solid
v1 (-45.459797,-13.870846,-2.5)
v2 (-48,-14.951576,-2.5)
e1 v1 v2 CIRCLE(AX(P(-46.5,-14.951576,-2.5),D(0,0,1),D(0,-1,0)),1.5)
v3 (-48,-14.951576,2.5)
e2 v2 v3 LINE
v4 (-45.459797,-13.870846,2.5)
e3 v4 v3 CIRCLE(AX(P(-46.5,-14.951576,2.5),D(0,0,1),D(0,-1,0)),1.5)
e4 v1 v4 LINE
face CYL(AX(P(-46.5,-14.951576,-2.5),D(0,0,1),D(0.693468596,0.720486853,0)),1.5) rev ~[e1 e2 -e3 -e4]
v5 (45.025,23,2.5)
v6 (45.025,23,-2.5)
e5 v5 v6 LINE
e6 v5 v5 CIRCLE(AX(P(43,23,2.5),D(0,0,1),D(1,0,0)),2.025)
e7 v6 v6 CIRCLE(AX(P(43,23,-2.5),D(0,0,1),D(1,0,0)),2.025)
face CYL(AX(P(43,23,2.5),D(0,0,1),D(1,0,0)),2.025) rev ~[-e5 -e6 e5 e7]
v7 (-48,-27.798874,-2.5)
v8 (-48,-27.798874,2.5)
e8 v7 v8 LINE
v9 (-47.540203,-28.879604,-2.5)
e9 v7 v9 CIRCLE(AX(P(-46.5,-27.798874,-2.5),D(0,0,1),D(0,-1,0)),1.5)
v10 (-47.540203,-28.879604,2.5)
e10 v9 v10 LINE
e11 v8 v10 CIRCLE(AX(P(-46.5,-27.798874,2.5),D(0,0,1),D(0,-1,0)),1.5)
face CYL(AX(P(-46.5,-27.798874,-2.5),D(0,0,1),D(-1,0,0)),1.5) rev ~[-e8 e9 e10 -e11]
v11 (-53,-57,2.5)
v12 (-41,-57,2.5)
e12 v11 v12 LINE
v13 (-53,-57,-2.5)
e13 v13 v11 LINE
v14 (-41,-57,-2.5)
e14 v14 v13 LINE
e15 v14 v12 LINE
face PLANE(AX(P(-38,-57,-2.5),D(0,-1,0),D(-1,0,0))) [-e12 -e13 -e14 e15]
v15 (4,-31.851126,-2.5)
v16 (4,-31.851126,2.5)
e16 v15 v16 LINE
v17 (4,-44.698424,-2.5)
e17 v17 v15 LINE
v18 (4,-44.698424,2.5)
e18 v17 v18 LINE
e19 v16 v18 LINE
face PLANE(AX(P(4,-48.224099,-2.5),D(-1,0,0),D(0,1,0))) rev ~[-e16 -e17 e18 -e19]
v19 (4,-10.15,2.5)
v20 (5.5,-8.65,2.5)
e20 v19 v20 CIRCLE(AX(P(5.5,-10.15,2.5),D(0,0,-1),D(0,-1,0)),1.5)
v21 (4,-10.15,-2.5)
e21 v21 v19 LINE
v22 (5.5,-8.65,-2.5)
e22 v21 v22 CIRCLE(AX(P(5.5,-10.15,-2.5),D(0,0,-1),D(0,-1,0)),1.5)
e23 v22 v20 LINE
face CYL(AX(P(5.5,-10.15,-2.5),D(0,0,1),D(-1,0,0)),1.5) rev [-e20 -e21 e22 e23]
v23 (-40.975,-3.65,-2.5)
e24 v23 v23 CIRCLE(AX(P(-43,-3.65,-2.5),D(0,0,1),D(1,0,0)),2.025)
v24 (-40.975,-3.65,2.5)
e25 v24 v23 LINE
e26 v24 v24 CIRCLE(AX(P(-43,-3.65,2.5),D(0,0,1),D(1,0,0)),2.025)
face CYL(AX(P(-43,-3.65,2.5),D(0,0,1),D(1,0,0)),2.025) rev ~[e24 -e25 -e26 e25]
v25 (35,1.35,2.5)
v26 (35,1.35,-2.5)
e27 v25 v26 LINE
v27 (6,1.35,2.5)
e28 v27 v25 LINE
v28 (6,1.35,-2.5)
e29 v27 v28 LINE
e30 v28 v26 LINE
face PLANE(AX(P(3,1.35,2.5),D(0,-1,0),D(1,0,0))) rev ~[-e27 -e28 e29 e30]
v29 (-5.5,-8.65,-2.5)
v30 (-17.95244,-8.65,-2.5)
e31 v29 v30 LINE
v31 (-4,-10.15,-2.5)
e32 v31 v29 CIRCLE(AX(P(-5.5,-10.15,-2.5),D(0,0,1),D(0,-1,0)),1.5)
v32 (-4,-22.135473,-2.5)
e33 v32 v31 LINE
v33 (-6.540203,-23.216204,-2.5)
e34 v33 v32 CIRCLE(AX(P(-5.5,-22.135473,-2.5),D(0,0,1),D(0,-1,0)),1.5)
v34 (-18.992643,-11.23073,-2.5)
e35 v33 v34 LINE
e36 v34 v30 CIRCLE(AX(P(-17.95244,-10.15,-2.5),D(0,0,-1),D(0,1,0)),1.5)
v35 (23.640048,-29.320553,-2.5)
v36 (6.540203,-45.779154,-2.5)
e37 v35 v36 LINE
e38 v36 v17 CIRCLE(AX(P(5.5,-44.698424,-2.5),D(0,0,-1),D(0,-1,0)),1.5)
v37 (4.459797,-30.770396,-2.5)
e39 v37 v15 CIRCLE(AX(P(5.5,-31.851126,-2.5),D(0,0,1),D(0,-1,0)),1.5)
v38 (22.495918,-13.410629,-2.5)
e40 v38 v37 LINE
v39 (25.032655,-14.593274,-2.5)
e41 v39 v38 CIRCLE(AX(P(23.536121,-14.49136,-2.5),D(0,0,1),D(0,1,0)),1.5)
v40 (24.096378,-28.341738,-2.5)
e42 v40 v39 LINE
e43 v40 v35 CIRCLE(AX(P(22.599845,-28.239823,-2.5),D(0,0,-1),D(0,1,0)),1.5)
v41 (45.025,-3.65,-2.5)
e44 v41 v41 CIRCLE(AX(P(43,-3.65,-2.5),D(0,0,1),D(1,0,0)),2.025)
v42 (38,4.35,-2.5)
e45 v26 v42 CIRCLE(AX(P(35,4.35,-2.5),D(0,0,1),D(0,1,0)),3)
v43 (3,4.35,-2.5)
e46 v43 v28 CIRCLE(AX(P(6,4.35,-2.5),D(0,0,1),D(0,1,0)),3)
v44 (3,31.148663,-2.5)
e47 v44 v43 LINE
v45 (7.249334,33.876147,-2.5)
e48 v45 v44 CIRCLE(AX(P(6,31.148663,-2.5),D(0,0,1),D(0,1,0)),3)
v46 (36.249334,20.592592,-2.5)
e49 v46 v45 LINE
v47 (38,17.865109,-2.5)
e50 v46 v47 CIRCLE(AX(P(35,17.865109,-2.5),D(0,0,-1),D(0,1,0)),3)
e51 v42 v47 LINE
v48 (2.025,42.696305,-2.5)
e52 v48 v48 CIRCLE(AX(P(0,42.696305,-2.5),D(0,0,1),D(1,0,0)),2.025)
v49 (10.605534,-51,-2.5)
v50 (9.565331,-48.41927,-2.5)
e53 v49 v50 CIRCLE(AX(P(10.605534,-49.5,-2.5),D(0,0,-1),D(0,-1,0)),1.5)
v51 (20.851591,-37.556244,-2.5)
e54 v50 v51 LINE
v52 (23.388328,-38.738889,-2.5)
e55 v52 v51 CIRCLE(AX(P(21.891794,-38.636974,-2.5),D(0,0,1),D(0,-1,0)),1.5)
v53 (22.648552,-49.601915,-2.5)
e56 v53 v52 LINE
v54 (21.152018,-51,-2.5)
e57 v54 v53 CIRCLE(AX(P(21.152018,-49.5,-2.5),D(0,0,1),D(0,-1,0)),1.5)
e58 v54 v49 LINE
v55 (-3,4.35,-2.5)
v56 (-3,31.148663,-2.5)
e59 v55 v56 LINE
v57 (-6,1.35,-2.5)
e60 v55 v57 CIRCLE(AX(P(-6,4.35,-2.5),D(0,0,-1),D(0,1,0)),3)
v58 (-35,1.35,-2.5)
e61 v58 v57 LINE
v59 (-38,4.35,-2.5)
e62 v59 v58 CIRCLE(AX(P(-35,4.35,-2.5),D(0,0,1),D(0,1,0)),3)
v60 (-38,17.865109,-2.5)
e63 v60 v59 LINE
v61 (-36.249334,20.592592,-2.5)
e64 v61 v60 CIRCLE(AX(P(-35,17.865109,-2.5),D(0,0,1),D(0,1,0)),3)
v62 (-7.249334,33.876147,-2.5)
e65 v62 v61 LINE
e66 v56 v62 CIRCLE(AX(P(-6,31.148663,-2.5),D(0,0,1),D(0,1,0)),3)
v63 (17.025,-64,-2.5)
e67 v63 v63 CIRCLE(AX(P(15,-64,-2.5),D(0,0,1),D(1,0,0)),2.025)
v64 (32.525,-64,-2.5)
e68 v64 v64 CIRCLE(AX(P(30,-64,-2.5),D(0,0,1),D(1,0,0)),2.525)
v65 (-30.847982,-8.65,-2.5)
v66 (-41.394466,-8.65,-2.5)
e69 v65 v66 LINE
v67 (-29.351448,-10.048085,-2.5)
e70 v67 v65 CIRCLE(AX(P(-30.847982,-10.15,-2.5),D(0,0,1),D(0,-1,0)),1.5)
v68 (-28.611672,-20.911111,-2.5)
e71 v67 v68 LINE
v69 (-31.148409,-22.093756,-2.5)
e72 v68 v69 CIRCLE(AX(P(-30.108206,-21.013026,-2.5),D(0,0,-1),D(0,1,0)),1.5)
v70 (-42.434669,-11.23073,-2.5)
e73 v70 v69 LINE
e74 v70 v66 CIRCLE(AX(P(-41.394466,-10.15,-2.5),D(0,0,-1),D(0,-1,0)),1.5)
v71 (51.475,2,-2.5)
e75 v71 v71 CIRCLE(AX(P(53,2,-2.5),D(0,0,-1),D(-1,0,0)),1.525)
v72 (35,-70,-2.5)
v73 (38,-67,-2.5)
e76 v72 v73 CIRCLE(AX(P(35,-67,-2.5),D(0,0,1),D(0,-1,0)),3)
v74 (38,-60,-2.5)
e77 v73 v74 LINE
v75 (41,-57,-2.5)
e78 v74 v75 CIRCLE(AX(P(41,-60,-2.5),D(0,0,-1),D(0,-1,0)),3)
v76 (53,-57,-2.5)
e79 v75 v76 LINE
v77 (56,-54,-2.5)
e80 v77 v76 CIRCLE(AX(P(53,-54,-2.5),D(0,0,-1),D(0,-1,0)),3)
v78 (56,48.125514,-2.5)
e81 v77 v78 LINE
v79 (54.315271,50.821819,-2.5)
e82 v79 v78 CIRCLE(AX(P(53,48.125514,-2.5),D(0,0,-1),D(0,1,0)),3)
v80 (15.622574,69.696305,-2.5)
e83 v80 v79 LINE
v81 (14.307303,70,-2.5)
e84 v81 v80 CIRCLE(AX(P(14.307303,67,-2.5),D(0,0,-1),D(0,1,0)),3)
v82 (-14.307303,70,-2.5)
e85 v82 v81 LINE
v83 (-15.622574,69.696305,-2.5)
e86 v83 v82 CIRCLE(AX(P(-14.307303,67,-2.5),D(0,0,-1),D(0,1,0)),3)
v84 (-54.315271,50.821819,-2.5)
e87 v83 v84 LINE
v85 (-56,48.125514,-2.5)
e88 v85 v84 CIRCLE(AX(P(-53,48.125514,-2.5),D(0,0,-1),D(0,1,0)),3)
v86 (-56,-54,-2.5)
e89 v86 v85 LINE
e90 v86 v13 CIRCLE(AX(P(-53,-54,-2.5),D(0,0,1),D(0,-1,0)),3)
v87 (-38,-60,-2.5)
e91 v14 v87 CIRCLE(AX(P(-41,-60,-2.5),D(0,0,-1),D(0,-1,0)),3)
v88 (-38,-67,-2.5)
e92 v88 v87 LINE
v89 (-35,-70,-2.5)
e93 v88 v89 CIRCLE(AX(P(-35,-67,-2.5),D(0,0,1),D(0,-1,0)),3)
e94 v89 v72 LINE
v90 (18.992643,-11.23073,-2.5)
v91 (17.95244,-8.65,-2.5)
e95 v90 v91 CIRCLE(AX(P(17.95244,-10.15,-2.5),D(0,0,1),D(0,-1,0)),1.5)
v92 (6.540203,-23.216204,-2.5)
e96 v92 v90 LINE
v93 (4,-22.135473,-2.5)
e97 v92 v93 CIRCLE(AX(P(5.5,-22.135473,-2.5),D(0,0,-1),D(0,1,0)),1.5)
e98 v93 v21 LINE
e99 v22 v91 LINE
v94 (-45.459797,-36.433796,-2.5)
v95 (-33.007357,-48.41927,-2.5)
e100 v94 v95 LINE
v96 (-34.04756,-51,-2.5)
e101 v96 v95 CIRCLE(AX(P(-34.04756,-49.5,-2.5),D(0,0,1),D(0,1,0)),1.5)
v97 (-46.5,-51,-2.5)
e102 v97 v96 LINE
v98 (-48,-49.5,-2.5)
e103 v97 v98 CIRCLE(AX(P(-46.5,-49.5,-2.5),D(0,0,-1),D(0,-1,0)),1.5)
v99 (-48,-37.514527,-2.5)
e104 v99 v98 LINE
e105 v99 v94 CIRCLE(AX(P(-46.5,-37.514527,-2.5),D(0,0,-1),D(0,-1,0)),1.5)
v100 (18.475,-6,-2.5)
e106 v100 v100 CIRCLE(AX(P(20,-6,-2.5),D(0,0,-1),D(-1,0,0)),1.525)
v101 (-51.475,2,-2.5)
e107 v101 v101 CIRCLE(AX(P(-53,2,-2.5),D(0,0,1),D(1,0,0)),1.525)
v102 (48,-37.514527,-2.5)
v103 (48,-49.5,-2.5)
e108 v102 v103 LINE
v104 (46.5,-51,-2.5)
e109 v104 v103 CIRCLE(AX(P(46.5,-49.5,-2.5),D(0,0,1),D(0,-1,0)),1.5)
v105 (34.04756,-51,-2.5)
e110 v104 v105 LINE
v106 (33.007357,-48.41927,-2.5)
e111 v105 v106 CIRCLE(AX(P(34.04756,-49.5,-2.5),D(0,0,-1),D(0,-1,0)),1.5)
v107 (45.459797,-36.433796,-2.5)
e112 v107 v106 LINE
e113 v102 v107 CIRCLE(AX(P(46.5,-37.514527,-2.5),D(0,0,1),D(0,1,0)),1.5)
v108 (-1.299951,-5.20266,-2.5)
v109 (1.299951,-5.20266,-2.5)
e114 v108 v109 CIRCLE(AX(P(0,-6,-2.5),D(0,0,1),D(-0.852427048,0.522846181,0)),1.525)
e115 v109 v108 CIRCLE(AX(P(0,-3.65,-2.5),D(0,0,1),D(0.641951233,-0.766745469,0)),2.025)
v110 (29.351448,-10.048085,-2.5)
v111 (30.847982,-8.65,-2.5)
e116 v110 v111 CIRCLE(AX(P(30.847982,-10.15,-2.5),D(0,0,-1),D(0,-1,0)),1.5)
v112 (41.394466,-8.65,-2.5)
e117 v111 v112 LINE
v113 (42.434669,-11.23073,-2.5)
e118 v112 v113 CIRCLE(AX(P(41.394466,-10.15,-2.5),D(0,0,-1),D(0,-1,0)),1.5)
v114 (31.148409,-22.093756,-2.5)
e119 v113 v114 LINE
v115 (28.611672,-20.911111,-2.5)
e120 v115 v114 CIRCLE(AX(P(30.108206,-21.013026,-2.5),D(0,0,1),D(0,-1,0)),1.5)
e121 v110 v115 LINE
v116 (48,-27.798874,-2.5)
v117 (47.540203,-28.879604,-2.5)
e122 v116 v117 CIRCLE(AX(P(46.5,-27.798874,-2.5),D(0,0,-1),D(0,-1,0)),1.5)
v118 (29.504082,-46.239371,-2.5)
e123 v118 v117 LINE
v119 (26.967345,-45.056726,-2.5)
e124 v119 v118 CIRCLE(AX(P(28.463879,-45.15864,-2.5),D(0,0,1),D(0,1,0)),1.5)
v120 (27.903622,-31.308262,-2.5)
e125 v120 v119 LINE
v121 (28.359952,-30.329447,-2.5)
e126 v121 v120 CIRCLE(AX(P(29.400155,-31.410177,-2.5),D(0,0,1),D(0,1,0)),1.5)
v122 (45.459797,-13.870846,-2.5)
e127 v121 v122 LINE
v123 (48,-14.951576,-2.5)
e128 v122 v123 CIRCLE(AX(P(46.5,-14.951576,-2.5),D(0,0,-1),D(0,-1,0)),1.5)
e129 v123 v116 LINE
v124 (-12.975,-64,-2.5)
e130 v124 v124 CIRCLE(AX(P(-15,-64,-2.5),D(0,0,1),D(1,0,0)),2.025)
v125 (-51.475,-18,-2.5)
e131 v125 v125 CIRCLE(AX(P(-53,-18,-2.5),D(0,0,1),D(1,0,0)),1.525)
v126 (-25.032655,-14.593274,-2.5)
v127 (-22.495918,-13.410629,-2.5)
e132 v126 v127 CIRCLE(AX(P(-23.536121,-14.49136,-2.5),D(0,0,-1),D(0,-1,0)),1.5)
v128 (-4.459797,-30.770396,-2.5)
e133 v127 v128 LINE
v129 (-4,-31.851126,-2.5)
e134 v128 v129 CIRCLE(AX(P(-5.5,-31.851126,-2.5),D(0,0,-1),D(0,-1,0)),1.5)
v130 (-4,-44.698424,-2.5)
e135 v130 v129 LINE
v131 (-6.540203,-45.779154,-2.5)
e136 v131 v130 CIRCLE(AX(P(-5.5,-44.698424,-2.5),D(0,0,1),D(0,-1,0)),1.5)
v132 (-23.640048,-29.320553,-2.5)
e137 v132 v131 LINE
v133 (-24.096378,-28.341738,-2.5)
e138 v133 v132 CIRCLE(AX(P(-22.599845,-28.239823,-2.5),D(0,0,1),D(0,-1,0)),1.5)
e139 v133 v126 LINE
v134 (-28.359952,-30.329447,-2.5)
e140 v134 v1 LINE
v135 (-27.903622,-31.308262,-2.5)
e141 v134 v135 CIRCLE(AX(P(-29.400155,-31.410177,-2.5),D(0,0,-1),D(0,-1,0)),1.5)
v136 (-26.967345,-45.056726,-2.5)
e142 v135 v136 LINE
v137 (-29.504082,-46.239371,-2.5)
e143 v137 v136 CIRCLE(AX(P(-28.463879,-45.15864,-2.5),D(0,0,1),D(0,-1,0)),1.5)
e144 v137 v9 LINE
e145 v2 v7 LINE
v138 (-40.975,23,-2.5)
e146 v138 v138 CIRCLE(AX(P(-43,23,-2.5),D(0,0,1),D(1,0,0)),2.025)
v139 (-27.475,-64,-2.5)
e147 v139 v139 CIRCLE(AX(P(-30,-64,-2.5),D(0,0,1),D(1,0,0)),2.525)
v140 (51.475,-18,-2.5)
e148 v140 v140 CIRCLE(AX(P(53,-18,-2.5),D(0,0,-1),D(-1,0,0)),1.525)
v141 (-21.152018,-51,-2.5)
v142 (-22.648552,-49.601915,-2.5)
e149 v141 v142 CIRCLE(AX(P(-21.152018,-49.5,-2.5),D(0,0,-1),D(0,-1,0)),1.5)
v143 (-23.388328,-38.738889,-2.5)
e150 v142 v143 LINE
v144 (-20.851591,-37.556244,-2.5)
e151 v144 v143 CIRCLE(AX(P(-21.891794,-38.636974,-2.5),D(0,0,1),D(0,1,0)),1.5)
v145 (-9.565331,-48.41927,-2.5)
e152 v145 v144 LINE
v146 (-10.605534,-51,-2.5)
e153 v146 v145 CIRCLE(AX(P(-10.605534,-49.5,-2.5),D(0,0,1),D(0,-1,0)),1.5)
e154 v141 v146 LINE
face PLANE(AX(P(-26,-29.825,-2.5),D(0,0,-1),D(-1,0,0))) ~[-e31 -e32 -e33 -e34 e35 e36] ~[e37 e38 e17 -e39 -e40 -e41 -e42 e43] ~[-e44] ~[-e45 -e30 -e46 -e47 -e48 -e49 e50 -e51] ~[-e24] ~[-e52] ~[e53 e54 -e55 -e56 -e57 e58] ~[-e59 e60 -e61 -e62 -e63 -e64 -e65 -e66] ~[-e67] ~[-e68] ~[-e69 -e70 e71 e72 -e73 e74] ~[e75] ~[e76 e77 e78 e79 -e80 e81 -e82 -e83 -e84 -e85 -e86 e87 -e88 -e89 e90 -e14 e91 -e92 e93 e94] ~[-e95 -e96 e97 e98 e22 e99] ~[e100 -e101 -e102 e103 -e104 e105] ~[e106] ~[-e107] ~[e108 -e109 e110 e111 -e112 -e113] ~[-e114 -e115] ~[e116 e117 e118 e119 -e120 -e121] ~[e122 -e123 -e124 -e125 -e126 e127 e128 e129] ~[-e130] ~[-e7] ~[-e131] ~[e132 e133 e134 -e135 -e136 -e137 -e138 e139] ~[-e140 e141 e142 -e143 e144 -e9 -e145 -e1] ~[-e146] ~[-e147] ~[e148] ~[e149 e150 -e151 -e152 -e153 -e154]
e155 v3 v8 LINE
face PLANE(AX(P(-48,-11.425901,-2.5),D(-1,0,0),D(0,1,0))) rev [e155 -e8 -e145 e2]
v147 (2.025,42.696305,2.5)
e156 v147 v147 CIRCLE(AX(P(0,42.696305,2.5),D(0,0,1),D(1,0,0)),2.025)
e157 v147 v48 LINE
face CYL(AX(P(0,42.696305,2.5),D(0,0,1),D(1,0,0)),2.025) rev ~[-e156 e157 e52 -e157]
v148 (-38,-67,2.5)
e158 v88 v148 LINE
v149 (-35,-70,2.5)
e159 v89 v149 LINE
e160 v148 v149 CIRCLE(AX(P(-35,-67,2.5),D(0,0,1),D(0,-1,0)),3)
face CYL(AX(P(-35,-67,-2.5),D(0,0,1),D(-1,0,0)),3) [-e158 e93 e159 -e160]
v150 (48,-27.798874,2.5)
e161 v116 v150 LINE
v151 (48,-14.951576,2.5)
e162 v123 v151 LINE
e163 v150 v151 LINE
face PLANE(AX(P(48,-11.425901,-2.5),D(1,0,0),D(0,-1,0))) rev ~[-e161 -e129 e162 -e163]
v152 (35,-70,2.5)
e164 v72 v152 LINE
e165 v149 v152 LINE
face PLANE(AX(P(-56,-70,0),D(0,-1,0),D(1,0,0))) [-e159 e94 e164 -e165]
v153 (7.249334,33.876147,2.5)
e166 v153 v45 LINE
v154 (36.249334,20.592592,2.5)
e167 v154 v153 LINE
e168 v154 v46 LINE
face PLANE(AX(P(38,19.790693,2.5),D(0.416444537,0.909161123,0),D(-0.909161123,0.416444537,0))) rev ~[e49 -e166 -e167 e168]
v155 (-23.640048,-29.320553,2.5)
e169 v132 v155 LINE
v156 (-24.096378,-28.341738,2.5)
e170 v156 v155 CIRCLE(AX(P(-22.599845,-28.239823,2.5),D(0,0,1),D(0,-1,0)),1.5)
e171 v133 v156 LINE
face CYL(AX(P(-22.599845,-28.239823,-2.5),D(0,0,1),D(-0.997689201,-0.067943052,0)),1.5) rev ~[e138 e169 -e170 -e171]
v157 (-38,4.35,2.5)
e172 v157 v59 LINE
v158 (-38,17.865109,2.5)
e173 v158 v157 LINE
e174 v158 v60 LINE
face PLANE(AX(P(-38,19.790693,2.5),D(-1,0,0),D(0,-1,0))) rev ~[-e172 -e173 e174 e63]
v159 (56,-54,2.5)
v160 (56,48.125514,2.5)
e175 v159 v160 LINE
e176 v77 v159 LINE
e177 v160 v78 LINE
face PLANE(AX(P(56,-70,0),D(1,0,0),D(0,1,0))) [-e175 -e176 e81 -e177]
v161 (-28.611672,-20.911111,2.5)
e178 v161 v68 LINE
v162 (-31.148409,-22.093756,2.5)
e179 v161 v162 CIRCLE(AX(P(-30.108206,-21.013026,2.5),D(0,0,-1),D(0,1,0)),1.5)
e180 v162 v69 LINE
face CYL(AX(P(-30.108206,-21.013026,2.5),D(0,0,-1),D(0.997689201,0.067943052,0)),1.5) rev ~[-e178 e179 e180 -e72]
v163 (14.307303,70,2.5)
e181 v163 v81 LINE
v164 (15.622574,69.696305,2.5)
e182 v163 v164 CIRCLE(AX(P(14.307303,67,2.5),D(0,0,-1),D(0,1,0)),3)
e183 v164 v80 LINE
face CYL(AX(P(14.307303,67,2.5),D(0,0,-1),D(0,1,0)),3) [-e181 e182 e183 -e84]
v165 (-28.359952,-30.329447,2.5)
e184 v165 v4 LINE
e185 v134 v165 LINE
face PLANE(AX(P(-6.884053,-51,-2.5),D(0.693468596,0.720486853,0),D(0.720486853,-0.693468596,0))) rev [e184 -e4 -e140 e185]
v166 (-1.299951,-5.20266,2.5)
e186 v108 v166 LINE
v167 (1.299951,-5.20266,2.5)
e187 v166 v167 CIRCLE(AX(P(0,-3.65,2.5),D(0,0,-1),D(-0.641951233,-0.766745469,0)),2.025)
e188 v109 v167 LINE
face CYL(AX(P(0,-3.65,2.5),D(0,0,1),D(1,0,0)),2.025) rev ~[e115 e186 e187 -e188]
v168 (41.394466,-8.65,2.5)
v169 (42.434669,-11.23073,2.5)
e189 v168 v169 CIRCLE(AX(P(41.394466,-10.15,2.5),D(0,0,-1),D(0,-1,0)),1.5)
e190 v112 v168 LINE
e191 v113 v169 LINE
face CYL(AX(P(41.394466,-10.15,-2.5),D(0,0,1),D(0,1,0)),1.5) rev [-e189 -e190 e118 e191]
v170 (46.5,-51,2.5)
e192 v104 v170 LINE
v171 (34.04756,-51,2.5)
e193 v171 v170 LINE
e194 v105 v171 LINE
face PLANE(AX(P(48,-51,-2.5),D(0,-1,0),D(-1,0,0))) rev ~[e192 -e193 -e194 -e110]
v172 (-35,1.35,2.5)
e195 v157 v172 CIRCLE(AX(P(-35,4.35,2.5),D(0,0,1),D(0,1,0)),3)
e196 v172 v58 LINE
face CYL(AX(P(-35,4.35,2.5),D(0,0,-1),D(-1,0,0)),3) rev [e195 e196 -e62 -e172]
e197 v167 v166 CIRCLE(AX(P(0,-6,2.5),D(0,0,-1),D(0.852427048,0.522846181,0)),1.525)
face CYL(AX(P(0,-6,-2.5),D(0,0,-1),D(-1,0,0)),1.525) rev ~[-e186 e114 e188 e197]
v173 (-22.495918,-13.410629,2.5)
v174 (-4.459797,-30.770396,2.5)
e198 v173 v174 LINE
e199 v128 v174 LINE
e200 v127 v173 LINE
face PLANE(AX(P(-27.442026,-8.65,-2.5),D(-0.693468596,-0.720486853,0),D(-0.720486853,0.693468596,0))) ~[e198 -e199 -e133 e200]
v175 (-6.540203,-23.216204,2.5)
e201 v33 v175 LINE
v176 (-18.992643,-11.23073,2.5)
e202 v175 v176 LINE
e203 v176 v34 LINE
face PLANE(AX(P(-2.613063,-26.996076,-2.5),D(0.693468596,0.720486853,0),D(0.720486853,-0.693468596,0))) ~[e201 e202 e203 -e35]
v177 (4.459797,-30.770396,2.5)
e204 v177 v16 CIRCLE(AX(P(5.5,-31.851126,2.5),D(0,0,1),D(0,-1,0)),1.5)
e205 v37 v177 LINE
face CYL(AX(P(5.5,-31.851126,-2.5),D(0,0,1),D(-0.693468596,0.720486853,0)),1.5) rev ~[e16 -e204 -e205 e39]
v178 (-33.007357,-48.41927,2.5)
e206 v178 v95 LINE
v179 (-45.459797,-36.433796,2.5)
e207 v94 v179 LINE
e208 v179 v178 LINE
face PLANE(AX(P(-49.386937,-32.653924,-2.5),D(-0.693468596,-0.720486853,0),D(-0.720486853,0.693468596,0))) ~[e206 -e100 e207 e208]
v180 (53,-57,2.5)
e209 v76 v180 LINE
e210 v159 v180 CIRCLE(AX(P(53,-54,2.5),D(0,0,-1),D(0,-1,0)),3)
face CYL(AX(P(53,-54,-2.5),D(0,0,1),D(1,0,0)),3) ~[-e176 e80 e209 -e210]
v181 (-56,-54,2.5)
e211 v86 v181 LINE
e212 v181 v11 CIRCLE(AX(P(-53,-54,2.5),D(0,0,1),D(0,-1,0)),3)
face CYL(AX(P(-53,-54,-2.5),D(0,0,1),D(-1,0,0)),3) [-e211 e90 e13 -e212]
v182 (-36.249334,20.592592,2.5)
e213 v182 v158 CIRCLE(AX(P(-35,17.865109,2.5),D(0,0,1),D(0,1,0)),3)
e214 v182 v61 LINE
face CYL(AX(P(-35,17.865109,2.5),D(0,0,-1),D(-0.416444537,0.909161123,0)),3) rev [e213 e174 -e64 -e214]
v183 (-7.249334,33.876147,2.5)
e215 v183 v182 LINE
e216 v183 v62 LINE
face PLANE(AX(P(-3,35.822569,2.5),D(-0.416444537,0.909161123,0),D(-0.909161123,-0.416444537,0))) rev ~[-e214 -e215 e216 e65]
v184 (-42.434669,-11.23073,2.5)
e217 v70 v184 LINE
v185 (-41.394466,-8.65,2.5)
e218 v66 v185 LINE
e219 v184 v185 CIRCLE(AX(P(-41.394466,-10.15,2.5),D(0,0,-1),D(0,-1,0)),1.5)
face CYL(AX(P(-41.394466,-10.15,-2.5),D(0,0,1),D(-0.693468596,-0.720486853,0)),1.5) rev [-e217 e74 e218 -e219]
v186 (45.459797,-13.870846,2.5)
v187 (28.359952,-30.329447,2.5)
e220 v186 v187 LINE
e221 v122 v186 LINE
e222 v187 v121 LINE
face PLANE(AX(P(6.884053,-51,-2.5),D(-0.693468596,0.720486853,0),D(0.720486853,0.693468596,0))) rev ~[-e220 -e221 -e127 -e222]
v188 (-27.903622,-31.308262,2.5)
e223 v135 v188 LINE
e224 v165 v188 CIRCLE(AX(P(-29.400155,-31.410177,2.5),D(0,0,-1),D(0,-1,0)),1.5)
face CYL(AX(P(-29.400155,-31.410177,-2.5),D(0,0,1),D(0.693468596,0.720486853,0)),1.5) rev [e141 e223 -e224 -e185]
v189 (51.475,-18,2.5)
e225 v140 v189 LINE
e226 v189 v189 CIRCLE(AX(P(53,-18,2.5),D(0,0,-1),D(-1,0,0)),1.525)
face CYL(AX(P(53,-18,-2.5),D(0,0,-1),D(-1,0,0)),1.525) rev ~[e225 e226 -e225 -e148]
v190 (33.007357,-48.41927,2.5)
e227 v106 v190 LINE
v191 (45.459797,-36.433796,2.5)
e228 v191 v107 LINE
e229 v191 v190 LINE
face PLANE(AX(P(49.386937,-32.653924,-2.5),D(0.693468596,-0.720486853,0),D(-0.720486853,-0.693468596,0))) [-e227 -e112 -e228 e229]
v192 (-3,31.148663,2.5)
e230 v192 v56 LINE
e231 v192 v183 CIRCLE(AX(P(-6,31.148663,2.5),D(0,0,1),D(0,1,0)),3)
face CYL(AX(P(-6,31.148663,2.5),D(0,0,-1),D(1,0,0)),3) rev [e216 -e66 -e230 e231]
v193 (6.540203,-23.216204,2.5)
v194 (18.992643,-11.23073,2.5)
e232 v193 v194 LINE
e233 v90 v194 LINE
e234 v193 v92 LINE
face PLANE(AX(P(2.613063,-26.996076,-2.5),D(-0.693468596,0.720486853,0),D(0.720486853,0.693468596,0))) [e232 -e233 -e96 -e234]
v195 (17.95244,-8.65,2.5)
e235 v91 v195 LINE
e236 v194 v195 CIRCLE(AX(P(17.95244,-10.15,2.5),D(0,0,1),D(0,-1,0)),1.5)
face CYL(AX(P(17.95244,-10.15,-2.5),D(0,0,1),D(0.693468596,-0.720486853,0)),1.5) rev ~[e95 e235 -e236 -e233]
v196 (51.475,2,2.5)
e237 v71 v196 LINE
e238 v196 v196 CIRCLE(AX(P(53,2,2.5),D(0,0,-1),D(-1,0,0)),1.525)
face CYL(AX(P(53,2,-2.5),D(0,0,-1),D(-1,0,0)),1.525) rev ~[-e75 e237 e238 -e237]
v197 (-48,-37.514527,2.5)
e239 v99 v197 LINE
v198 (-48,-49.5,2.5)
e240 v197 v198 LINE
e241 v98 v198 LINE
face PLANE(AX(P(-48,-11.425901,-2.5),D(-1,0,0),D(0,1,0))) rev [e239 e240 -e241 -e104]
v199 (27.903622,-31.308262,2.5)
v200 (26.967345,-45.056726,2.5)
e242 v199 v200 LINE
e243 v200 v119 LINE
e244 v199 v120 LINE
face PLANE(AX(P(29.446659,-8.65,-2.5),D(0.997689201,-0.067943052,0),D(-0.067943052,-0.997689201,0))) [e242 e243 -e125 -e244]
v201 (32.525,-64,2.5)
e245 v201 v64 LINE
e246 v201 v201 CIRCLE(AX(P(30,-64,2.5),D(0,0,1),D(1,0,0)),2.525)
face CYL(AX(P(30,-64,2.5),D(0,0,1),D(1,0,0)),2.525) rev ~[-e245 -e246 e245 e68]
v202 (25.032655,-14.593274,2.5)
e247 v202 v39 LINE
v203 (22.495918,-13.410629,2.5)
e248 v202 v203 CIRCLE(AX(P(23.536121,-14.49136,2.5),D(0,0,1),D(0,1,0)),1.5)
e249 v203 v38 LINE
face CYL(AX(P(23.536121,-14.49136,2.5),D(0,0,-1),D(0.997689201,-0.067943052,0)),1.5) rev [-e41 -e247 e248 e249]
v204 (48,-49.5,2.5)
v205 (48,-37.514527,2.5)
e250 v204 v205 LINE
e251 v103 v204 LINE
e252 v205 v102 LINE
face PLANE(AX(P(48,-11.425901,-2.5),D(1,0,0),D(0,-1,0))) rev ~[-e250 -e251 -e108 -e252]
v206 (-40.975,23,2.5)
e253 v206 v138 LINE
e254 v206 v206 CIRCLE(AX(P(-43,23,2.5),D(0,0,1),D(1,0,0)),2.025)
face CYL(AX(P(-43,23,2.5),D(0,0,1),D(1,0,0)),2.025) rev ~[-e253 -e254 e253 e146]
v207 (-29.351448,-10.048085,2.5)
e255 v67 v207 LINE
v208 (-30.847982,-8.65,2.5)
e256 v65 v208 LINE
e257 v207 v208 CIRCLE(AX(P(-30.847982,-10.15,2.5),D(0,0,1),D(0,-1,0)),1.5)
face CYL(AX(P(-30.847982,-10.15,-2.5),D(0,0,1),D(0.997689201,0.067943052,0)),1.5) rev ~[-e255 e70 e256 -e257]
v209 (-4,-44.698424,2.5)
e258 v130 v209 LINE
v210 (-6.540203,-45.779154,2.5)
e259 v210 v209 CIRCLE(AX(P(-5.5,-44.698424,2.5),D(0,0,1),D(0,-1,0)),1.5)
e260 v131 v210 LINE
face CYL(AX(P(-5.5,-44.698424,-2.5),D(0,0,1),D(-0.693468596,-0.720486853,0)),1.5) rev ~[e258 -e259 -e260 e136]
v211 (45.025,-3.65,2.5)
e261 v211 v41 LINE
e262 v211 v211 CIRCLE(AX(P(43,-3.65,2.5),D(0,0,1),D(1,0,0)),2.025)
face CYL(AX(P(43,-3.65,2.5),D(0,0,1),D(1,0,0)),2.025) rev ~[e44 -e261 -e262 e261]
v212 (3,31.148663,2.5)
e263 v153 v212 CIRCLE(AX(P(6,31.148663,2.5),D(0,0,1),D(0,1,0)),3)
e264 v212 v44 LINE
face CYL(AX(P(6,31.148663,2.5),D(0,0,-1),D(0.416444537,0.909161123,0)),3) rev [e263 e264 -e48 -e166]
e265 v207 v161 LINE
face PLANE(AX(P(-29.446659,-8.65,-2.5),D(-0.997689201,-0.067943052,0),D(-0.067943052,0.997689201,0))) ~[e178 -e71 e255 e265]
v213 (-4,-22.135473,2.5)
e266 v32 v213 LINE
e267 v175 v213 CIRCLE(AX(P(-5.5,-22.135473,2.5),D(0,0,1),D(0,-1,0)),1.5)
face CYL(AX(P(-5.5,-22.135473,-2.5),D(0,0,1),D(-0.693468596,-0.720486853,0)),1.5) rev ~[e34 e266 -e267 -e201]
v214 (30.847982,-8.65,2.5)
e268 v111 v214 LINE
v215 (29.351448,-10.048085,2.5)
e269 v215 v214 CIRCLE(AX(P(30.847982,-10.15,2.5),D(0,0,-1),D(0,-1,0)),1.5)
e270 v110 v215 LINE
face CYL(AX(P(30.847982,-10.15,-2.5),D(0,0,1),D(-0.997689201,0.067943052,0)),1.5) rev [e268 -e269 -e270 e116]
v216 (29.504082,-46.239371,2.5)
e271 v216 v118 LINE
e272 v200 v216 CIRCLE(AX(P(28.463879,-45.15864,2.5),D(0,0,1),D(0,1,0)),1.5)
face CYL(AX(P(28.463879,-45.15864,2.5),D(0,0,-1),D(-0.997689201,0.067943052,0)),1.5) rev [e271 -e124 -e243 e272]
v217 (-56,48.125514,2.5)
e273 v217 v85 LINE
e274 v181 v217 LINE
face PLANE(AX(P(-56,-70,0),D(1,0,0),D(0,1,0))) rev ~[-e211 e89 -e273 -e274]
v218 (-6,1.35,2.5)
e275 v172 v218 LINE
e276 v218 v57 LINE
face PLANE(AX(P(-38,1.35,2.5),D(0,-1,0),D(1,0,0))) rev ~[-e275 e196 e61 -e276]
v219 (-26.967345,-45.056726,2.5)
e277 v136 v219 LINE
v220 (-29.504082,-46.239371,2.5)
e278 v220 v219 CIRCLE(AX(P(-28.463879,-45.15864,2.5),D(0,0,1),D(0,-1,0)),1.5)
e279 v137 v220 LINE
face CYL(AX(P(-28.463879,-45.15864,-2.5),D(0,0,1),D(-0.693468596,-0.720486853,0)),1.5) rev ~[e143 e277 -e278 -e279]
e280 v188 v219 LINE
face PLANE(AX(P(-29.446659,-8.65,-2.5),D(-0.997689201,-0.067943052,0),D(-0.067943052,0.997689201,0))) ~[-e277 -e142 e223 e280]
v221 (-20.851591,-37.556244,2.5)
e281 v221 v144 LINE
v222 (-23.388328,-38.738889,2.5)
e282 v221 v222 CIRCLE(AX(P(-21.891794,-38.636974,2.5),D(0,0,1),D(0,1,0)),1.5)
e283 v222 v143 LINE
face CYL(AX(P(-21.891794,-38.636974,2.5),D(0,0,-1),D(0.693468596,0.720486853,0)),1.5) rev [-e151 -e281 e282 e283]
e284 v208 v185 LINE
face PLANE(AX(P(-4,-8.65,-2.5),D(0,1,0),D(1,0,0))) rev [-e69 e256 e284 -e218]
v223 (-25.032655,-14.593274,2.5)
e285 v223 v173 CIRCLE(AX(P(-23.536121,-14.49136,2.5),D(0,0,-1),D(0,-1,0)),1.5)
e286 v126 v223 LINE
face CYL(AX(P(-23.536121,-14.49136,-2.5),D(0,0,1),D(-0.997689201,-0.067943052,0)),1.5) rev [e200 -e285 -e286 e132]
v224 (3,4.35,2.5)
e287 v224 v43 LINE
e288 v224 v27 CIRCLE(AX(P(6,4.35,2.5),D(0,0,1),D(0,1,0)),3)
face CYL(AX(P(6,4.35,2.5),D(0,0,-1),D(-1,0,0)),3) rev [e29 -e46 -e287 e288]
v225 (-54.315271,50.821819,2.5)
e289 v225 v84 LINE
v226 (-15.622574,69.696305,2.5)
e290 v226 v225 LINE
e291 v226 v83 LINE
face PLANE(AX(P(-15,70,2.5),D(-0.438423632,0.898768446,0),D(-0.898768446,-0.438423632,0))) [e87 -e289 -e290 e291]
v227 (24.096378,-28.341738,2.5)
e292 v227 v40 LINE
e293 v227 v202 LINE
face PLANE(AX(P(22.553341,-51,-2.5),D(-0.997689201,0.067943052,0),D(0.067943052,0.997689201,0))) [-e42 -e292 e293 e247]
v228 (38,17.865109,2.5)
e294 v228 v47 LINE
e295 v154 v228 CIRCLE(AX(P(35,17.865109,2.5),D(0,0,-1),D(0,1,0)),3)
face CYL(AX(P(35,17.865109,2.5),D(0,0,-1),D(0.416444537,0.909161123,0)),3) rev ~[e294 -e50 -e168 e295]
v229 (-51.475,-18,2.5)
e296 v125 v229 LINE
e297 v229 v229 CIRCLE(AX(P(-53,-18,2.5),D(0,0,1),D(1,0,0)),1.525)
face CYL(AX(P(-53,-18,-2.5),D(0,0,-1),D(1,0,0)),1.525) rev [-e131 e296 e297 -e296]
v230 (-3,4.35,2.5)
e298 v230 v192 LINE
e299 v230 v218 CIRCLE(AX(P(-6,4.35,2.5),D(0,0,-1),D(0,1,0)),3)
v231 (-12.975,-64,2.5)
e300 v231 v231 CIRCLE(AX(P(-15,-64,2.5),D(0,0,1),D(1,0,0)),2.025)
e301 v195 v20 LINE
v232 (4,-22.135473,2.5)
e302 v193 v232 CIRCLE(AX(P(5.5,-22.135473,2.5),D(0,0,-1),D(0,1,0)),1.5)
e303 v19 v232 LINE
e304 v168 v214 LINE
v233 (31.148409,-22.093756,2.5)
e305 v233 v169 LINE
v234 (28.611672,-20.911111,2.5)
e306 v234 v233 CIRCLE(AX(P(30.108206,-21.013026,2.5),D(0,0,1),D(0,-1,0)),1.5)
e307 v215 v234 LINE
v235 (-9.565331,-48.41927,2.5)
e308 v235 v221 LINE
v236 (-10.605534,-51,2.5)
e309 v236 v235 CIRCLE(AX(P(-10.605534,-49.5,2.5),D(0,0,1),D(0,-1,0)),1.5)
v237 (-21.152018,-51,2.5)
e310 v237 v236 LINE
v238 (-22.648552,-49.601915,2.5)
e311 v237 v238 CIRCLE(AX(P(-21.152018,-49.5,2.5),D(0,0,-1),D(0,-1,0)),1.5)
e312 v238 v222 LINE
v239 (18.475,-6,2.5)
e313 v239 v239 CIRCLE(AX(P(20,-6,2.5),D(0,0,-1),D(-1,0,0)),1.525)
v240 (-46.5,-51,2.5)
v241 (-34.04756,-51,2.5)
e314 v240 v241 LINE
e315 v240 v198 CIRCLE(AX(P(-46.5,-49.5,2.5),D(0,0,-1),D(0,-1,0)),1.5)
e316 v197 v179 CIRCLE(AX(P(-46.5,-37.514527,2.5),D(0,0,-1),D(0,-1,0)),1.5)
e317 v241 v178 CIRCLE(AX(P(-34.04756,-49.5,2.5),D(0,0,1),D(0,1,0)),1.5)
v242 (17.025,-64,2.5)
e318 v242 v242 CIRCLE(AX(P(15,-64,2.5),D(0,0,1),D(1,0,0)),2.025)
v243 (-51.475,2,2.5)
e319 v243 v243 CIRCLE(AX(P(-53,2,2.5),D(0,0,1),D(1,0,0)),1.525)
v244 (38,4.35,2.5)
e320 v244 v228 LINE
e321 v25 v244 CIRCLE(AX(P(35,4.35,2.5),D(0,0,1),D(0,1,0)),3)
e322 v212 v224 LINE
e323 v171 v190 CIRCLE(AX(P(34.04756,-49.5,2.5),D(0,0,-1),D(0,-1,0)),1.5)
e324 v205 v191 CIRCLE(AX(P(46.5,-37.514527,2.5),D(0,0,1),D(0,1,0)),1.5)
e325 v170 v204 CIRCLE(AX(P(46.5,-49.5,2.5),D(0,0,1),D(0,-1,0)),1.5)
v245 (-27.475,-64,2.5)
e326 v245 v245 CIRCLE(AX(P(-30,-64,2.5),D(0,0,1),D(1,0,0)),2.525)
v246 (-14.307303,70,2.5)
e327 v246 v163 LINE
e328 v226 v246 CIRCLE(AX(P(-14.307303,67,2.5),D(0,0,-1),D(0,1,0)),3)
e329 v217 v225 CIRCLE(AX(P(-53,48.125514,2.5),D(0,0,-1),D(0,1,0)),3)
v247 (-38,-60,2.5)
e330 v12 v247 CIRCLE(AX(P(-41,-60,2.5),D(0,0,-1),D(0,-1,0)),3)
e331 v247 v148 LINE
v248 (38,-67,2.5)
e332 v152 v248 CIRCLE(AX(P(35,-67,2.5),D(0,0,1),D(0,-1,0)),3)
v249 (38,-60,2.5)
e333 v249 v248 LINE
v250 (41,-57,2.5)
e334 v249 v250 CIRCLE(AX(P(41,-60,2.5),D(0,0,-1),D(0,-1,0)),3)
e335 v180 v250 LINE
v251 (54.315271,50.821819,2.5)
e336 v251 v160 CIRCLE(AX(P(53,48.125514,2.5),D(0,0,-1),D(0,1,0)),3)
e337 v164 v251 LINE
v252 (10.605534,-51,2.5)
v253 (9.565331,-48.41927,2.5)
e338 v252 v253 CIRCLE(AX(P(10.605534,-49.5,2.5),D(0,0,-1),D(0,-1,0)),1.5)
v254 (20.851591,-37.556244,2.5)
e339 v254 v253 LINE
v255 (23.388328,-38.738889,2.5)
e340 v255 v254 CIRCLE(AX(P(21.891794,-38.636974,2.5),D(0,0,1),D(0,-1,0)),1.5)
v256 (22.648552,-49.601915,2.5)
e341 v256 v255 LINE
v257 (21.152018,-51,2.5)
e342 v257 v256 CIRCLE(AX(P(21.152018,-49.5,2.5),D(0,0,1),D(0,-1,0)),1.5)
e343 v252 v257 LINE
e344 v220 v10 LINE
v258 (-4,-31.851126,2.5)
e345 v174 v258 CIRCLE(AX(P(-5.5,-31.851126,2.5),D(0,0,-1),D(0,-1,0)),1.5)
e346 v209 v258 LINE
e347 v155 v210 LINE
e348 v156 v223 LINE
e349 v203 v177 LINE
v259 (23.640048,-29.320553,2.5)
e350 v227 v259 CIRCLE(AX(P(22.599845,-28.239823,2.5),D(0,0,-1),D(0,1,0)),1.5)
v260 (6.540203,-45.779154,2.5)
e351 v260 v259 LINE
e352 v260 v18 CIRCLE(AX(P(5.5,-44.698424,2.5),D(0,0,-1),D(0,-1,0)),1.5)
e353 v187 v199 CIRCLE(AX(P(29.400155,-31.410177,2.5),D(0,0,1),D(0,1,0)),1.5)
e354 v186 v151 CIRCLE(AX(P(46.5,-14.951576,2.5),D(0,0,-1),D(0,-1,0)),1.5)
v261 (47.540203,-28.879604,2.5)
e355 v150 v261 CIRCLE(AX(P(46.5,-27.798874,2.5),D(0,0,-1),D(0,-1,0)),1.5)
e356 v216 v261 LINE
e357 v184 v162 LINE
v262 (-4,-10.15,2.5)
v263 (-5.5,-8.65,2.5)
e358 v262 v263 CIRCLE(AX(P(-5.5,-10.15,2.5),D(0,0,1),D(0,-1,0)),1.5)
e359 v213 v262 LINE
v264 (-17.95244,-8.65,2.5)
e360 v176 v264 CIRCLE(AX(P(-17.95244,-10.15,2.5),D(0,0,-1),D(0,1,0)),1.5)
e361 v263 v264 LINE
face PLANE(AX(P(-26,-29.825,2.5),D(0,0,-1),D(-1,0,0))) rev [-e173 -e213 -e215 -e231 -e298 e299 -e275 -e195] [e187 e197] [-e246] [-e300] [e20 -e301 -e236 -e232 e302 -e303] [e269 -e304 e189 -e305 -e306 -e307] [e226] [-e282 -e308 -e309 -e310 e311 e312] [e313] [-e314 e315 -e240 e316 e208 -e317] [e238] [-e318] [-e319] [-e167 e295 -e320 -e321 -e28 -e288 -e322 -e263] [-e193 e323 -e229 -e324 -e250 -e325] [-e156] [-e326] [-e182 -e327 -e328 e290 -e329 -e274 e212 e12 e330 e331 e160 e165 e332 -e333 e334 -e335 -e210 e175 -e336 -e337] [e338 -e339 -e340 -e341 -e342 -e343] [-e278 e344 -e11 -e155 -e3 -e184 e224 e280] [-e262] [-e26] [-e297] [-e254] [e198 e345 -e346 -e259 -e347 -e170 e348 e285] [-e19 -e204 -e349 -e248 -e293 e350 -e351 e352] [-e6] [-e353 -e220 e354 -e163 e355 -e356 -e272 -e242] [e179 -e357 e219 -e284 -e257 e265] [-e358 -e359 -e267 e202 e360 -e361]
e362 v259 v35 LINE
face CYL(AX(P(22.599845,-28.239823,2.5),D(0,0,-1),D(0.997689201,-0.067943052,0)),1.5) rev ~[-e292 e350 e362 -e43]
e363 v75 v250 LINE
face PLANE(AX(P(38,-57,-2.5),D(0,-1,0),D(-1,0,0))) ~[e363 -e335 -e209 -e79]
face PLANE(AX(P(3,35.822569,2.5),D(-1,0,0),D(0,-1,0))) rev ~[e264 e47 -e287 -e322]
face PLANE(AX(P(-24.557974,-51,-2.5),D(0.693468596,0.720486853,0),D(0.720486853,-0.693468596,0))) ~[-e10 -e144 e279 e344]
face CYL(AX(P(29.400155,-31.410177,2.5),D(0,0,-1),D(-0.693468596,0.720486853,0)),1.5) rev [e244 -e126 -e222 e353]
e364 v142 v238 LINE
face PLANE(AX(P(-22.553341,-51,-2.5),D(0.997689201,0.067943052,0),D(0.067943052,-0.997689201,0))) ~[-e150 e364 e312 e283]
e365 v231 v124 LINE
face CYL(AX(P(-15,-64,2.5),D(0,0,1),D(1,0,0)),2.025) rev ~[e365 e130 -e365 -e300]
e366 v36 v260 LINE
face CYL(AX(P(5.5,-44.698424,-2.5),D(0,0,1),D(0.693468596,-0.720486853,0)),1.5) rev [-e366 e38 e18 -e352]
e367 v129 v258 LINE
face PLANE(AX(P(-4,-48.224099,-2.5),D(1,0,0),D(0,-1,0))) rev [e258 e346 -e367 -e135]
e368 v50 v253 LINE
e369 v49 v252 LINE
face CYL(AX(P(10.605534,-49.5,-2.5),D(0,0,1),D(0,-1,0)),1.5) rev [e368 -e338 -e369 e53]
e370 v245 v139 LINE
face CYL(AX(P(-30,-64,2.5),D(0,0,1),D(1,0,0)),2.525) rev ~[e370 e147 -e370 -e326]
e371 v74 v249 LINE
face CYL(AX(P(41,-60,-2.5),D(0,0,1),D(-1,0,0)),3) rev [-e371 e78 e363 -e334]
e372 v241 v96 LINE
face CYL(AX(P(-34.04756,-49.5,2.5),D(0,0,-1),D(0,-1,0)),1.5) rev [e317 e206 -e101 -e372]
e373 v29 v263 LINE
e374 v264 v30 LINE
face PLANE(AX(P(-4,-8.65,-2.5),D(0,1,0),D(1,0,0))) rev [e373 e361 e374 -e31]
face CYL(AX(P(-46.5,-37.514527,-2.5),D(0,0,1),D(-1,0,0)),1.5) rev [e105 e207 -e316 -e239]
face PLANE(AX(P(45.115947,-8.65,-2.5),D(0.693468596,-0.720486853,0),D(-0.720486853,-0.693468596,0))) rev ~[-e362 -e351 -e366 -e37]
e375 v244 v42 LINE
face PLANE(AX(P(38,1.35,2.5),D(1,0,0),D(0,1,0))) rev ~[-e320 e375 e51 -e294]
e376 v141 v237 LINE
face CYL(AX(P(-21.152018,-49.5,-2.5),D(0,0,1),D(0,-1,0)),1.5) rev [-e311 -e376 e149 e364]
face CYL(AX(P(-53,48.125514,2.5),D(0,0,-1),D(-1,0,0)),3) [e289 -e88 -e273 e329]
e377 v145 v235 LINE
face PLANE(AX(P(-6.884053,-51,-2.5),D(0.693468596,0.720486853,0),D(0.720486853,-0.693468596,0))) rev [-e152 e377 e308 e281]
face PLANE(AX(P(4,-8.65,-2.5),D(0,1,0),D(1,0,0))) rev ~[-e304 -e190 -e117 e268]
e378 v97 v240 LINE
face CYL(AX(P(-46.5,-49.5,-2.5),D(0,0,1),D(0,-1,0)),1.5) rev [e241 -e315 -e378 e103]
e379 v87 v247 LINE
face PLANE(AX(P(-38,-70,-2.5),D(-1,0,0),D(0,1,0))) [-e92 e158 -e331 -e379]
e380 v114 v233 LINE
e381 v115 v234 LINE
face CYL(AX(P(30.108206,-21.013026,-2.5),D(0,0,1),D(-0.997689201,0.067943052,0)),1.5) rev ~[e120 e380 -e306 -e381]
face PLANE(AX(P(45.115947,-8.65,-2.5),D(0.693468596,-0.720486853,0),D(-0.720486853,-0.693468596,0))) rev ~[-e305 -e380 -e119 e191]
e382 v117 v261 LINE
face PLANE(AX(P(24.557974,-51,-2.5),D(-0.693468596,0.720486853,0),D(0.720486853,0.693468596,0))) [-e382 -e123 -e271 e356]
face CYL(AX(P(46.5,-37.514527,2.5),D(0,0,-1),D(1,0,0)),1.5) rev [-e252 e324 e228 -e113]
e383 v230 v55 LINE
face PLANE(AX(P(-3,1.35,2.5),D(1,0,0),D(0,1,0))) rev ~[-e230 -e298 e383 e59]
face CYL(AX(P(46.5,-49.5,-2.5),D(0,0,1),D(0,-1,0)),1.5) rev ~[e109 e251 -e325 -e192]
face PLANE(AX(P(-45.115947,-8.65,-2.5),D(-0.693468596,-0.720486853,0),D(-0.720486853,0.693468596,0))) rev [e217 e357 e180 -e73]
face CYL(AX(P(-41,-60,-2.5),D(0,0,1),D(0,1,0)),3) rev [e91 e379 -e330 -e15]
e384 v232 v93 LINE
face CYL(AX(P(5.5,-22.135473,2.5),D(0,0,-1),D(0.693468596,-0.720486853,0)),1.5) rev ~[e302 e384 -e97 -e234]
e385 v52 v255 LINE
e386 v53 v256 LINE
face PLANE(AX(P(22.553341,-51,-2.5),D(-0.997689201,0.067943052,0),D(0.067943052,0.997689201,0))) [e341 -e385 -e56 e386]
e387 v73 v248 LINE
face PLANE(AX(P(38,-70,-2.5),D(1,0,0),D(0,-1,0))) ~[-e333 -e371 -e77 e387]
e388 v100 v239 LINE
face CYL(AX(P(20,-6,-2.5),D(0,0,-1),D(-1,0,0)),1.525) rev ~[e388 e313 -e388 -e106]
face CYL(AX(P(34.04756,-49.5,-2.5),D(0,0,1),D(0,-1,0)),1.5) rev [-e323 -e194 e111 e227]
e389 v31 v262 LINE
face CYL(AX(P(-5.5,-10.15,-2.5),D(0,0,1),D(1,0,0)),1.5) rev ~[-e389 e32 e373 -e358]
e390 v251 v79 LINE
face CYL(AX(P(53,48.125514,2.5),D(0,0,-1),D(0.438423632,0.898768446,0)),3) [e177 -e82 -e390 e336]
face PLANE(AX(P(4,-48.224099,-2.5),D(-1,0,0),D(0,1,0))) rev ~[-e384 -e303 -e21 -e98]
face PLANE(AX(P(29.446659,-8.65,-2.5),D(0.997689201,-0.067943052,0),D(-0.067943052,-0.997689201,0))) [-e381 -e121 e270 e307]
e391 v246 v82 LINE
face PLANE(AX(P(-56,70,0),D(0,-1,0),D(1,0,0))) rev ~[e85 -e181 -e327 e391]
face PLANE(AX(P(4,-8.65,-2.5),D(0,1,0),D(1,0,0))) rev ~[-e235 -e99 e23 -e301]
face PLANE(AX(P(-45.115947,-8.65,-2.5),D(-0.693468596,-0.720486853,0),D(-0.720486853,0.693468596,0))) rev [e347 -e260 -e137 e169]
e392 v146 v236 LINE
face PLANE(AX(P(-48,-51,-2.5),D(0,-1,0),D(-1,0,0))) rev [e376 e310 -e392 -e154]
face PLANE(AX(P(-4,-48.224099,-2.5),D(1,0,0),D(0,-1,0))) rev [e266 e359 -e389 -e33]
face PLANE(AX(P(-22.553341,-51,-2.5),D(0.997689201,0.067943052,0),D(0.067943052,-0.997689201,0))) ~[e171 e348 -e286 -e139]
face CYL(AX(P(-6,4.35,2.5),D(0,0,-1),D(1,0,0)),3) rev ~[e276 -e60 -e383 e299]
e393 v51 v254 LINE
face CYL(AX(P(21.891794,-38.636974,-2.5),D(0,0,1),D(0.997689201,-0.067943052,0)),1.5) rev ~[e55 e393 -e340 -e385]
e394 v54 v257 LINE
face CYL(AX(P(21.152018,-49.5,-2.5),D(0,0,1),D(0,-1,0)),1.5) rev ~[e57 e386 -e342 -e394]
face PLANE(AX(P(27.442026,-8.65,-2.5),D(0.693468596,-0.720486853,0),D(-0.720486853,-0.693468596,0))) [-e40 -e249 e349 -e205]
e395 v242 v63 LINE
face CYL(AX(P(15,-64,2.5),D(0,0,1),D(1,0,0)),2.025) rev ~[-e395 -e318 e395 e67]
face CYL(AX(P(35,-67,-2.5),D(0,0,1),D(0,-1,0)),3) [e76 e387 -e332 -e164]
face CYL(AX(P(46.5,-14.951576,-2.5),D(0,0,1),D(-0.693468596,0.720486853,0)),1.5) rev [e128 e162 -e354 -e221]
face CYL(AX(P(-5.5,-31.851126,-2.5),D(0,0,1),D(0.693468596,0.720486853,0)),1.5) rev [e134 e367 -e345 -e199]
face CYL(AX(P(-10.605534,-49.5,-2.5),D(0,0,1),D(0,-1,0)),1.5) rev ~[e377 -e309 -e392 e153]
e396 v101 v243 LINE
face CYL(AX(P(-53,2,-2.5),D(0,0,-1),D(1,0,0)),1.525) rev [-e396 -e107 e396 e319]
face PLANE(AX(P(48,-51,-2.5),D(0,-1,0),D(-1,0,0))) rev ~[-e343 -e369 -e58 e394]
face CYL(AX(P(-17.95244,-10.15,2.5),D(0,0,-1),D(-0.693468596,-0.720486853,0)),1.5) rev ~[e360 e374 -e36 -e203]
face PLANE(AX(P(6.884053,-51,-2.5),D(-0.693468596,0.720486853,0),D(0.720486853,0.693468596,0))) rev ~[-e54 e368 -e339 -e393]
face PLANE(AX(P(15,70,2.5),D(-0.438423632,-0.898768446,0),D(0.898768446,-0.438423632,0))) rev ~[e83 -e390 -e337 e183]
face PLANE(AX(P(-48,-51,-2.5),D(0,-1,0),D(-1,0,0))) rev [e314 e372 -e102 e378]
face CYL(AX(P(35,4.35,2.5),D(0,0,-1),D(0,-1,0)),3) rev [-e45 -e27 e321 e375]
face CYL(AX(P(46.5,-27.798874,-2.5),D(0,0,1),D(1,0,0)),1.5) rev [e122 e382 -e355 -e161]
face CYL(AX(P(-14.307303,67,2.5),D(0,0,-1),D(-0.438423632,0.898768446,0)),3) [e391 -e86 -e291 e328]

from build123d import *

# Parameters (mm, degrees)
SKETCH_1_W           = 112
SKETCH_1_H           = 140
EXTRUDE_1_DEPTH      = 2.5
CUT_EXTRUDE_2_DEPTH  = 5
SKETCH_4_R           = 2.025
CUT_EXTRUDE_3_DEPTH  = 10
SKETCH_6_W           = 18
SKETCH_6_H           = 13
CUT_EXTRUDE_5_DEPTH  = 10
CUT_EXTRUDE_6_DEPTH  = 5
FILLET_1_R           = 3
SKETCH_8_R           = 1.525
CUT_EXTRUDE_7_DEPTH  = 5
SKETCH_10_R          = 2.525
CUT_EXTRUDE_9_DEPTH  = 40
FILLET_3_R           = 3
CUT_EXTRUDE_10_DEPTH = 78
EXTRUDE_2_DEPTH      = 5
EXTRUDE_3_DEPTH      = 5
FILLET_4_R           = 1.5
EXTRUDE_6_DEPTH      = 5
SKETCH_22_R          = 1.525
CUT_EXTRUDE_15_DEPTH = 5
SKETCH_24_R          = 2.025
CUT_EXTRUDE_17_DEPTH = 10


with BuildPart() as part:
    # 草图1 → 凸台-拉伸1 (new, symmetric)
    with BuildSketch(Plane.XY):
        Rectangle(SKETCH_1_W, SKETCH_1_H)
    extrude(amount=EXTRUDE_1_DEPTH, both=True)

    # 草图3 → 切除-拉伸2 (cut)
    with BuildSketch(Plane.XY.offset(2.5)):
        Polygon((-15, 70), (-56, 50), (-56, 70), align=None)
        Polygon((56, 70), (15, 70), (56, 50), align=None)
    extrude(amount=-CUT_EXTRUDE_2_DEPTH, mode=Mode.SUBTRACT)

    # 草图4 → 切除-拉伸3 (cut)
    with BuildSketch(Plane.XY.offset(2.5)):
        with Locations((0, -3.65)):
            Circle(SKETCH_4_R)
        with Locations((43, -3.65)):
            Circle(SKETCH_4_R)
        with Locations((-43, -3.65)):
            Circle(SKETCH_4_R)
        with Locations((-43, 23)):
            Circle(SKETCH_4_R)
        with Locations((0, 42.696305337)):
            Circle(SKETCH_4_R)
        with Locations((43, 23)):
            Circle(SKETCH_4_R)
    extrude(amount=-CUT_EXTRUDE_3_DEPTH, mode=Mode.SUBTRACT)

    # 草图6 → 切除-拉伸5 (cut)
    with BuildSketch(Plane(origin=(0, 0, -2.5), x_dir=(-1, 0, 0), z_dir=(0, 0, -1))):
        with Locations((47, -63.5)):
            Rectangle(SKETCH_6_W, SKETCH_6_H)
    cut_extrude_5 = extrude(amount=-CUT_EXTRUDE_5_DEPTH, mode=Mode.SUBTRACT)

    # 镜向2: 切除-拉伸5 across plane
    add(cut_extrude_5.mirror(Plane(origin=(0, 0, 0), x_dir=(0, 0, 1), z_dir=(1, 0, 0))), mode=Mode.SUBTRACT)

    # 草图7 → 切除-拉伸6 (cut)
    with BuildSketch(Plane.XY.offset(2.5)):
        Polygon((-3, 1.35), (-3, 35.822569262), (-38, 19.790692824), (-38, 1.35), align=None)
        Polygon((38, 19.790692824), (3, 35.822569262), (3, 1.35), (38, 1.35), align=None)
    extrude(amount=-CUT_EXTRUDE_6_DEPTH, mode=Mode.SUBTRACT)

    # 圆角1
    fillet_1_edges = [part.edges().sort_by_distance(p)[0] for p in [
        (-38, 19.790692824, 0),
        (-38, 1.35, 0),
        (-3, 1.35, 0),
        (-3, 35.822569262, 0),
        (3, 1.35, 0),
        (38, 1.35, 0),
        (38, 19.790692824, 0),
        (3, 35.822569262, 0),
    ]]
    fillet(fillet_1_edges, radius=FILLET_1_R)

    # 草图8 → 切除-拉伸7 (cut)
    with BuildSketch(Plane(origin=(0, 0, -2.5), x_dir=(-1, 0, 0), z_dir=(0, 0, -1))):
        with Locations((-53, 2)):
            Circle(SKETCH_8_R)
        with Locations((-53, -18)):
            Circle(SKETCH_8_R)
    cut_extrude_7 = extrude(amount=-CUT_EXTRUDE_7_DEPTH, mode=Mode.SUBTRACT)

    # 镜向3: 切除-拉伸7 across plane
    add(cut_extrude_7.mirror(Plane(origin=(0, 0, 0), x_dir=(0, 0, 1), z_dir=(1, 0, 0))), mode=Mode.SUBTRACT)

    # 草图10 → 切除-拉伸9 (cut)
    with BuildSketch(Plane.XY.offset(2.5)):
        with Locations((-30, -64)):
            Circle(SKETCH_10_R)
        with Locations((30, -64)):
            Circle(SKETCH_10_R)
    extrude(amount=-CUT_EXTRUDE_9_DEPTH, mode=Mode.SUBTRACT)

    # 圆角3
    fillet_3_edges = [part.edges().sort_by_distance(p)[0] for p in [
        (-56, 50, 0),
        (-15, 70, 0),
        (15, 70, 0),
        (56, 50, 0),
        (-56, -57, 0),
        (-38, -70, 0),
        (-38, -57, 0),
        (56, -57, 0),
        (38, -57, 0),
        (38, -70, 0),
    ]]
    fillet(fillet_3_edges, radius=FILLET_3_R)

    # 草图11 → 切除-拉伸10 (cut)
    with BuildSketch(Plane(origin=(0, 0, -2.5), x_dir=(-1, 0, 0), z_dir=(0, 0, -1))):
        Polygon((-6.884052732, -51), (-48, -11.425900755), (-48, -51), align=None)
        Polygon((-4, -8.65), (-45.115947268, -8.65), (-4, -48.224099245), align=None)
    cut_extrude_10 = extrude(amount=-CUT_EXTRUDE_10_DEPTH, mode=Mode.SUBTRACT)

    # 草图12 → 凸台-拉伸2 (add)
    with BuildSketch(Plane(origin=(0, 0, -2.5), x_dir=(-1, 0, 0), z_dir=(0, 0, -1))):
        Polygon((-27.442026366, -8.65), (-4, -31.212950377), (-2.613062807, -26.996075916), (-23.171036441, -7.209026293), align=None)
        Polygon((-49.386937193, -32.653924084), (-28.828963559, -52.440973707), (-24.557973634, -51), (-48, -28.437049623), align=None)
    extrude_2 = extrude(amount=-EXTRUDE_2_DEPTH)

    # 草图13 → 凸台-拉伸3 (add)
    with BuildSketch(Plane(origin=(0, 0, -2.5), x_dir=(-1, 0, 0), z_dir=(0, 0, -1))):
        Polygon((-29.446658669, -8.65), (-26.553352036, -51.135886105), (-22.553341331, -51), (-25.446647964, -8.514113895), align=None)
    extrude_3 = extrude(amount=-EXTRUDE_3_DEPTH)

    # 镜向5: 切除-拉伸10, 凸台-拉伸2, 凸台-拉伸3 across plane
    add(cut_extrude_10.mirror(Plane(origin=(0, 0, 0), x_dir=(0, 0, 1), z_dir=(1, 0, 0))), mode=Mode.SUBTRACT)
    add(extrude_2.mirror(Plane(origin=(0, 0, 0), x_dir=(0, 0, 1), z_dir=(1, 0, 0))))
    add(extrude_3.mirror(Plane(origin=(0, 0, 0), x_dir=(0, 0, 1), z_dir=(1, 0, 0))))

    # 圆角4
    fillet_4_edges = [part.edges().sort_by_distance(p)[0] for p in [
        (4, -48.224099245, 0),
        (45.115947268, -8.65, 0),
        (4, -8.65, 0),
        (6.884052732, -51, 0),
        (48, -51, 0),
        (48, -11.425900755, 0),
        (4, -25.661148868, 0),
        (21.673920902, -8.65, 0),
        (4, -31.212950377, 0),
        (48, -33.988851132, 0),
        (30.326079098, -51, 0),
        (48, -28.437049623, 0),
        (26.703219631, -48.935200727, 0),
        (25.296780369, -10.714799273, 0),
        (23.652453905, -34.860413872, 0),
        (27.942945899, -30.730815326, 0),
        (29.446658669, -8.65, 0),
        (24.057054101, -28.919184674, 0),
        (22.553341331, -51, 0),
        (28.347546095, -24.789586128, 0),
        (-45.115947268, -8.65, 0),
        (-4, -48.224099245, 0),
        (-4, -8.65, 0),
        (-48, -51, 0),
        (-6.884052732, -51, 0),
        (-48, -11.425900755, 0),
        (-21.673920902, -8.65, 0),
        (-4, -25.661148868, 0),
        (-4, -31.212950377, 0),
        (-48, -33.988851132, 0),
        (-30.326079098, -51, 0),
        (-48, -28.437049623, 0),
        (-26.703219631, -48.935200727, 0),
        (-25.296780369, -10.714799273, 0),
        (-23.652453905, -34.860413872, 0),
        (-24.057054101, -28.919184674, 0),
        (-22.553341331, -51, 0),
        (-27.942945899, -30.730815326, 0),
        (-28.347546095, -24.789586128, 0),
        (-29.446658669, -8.65, 0),
    ]]
    fillet(fillet_4_edges, radius=FILLET_4_R)

    # 草图21 → 凸台-拉伸6 (add)
    with BuildSketch(Plane(origin=(0, 0, -2.5), x_dir=(-1, 0, 0), z_dir=(0, 0, -1))):
        with BuildLine():
            Line((-20, -3), (-25.822161429, -3))
            Line((-25.822161429, -3), (-25.413558917, -9))
            Line((-25.413558917, -9), (-20, -9))
            ThreePointArc((-20, -9), (-17, -6), (-20, -3))
        make_face()
    extrude(amount=-EXTRUDE_6_DEPTH)

    # 草图22 → 切除-拉伸15 (cut)
    with BuildSketch(Plane(origin=(0, 0, -2.5), x_dir=(-1, 0, 0), z_dir=(0, 0, -1))):
        with Locations((0, -6)):
            Circle(SKETCH_22_R)
        with Locations((-20, -6)):
            Circle(SKETCH_22_R)
    extrude(amount=-CUT_EXTRUDE_15_DEPTH, mode=Mode.SUBTRACT)

    # 草图24 → 切除-拉伸17 (cut)
    with BuildSketch(Plane.XY.offset(2.5)):
        with Locations((-15, -64)):
            Circle(SKETCH_24_R)
        with Locations((15, -64)):
            Circle(SKETCH_24_R)
    extrude(amount=-CUT_EXTRUDE_17_DEPTH, mode=Mode.SUBTRACT)


solid = part.part
